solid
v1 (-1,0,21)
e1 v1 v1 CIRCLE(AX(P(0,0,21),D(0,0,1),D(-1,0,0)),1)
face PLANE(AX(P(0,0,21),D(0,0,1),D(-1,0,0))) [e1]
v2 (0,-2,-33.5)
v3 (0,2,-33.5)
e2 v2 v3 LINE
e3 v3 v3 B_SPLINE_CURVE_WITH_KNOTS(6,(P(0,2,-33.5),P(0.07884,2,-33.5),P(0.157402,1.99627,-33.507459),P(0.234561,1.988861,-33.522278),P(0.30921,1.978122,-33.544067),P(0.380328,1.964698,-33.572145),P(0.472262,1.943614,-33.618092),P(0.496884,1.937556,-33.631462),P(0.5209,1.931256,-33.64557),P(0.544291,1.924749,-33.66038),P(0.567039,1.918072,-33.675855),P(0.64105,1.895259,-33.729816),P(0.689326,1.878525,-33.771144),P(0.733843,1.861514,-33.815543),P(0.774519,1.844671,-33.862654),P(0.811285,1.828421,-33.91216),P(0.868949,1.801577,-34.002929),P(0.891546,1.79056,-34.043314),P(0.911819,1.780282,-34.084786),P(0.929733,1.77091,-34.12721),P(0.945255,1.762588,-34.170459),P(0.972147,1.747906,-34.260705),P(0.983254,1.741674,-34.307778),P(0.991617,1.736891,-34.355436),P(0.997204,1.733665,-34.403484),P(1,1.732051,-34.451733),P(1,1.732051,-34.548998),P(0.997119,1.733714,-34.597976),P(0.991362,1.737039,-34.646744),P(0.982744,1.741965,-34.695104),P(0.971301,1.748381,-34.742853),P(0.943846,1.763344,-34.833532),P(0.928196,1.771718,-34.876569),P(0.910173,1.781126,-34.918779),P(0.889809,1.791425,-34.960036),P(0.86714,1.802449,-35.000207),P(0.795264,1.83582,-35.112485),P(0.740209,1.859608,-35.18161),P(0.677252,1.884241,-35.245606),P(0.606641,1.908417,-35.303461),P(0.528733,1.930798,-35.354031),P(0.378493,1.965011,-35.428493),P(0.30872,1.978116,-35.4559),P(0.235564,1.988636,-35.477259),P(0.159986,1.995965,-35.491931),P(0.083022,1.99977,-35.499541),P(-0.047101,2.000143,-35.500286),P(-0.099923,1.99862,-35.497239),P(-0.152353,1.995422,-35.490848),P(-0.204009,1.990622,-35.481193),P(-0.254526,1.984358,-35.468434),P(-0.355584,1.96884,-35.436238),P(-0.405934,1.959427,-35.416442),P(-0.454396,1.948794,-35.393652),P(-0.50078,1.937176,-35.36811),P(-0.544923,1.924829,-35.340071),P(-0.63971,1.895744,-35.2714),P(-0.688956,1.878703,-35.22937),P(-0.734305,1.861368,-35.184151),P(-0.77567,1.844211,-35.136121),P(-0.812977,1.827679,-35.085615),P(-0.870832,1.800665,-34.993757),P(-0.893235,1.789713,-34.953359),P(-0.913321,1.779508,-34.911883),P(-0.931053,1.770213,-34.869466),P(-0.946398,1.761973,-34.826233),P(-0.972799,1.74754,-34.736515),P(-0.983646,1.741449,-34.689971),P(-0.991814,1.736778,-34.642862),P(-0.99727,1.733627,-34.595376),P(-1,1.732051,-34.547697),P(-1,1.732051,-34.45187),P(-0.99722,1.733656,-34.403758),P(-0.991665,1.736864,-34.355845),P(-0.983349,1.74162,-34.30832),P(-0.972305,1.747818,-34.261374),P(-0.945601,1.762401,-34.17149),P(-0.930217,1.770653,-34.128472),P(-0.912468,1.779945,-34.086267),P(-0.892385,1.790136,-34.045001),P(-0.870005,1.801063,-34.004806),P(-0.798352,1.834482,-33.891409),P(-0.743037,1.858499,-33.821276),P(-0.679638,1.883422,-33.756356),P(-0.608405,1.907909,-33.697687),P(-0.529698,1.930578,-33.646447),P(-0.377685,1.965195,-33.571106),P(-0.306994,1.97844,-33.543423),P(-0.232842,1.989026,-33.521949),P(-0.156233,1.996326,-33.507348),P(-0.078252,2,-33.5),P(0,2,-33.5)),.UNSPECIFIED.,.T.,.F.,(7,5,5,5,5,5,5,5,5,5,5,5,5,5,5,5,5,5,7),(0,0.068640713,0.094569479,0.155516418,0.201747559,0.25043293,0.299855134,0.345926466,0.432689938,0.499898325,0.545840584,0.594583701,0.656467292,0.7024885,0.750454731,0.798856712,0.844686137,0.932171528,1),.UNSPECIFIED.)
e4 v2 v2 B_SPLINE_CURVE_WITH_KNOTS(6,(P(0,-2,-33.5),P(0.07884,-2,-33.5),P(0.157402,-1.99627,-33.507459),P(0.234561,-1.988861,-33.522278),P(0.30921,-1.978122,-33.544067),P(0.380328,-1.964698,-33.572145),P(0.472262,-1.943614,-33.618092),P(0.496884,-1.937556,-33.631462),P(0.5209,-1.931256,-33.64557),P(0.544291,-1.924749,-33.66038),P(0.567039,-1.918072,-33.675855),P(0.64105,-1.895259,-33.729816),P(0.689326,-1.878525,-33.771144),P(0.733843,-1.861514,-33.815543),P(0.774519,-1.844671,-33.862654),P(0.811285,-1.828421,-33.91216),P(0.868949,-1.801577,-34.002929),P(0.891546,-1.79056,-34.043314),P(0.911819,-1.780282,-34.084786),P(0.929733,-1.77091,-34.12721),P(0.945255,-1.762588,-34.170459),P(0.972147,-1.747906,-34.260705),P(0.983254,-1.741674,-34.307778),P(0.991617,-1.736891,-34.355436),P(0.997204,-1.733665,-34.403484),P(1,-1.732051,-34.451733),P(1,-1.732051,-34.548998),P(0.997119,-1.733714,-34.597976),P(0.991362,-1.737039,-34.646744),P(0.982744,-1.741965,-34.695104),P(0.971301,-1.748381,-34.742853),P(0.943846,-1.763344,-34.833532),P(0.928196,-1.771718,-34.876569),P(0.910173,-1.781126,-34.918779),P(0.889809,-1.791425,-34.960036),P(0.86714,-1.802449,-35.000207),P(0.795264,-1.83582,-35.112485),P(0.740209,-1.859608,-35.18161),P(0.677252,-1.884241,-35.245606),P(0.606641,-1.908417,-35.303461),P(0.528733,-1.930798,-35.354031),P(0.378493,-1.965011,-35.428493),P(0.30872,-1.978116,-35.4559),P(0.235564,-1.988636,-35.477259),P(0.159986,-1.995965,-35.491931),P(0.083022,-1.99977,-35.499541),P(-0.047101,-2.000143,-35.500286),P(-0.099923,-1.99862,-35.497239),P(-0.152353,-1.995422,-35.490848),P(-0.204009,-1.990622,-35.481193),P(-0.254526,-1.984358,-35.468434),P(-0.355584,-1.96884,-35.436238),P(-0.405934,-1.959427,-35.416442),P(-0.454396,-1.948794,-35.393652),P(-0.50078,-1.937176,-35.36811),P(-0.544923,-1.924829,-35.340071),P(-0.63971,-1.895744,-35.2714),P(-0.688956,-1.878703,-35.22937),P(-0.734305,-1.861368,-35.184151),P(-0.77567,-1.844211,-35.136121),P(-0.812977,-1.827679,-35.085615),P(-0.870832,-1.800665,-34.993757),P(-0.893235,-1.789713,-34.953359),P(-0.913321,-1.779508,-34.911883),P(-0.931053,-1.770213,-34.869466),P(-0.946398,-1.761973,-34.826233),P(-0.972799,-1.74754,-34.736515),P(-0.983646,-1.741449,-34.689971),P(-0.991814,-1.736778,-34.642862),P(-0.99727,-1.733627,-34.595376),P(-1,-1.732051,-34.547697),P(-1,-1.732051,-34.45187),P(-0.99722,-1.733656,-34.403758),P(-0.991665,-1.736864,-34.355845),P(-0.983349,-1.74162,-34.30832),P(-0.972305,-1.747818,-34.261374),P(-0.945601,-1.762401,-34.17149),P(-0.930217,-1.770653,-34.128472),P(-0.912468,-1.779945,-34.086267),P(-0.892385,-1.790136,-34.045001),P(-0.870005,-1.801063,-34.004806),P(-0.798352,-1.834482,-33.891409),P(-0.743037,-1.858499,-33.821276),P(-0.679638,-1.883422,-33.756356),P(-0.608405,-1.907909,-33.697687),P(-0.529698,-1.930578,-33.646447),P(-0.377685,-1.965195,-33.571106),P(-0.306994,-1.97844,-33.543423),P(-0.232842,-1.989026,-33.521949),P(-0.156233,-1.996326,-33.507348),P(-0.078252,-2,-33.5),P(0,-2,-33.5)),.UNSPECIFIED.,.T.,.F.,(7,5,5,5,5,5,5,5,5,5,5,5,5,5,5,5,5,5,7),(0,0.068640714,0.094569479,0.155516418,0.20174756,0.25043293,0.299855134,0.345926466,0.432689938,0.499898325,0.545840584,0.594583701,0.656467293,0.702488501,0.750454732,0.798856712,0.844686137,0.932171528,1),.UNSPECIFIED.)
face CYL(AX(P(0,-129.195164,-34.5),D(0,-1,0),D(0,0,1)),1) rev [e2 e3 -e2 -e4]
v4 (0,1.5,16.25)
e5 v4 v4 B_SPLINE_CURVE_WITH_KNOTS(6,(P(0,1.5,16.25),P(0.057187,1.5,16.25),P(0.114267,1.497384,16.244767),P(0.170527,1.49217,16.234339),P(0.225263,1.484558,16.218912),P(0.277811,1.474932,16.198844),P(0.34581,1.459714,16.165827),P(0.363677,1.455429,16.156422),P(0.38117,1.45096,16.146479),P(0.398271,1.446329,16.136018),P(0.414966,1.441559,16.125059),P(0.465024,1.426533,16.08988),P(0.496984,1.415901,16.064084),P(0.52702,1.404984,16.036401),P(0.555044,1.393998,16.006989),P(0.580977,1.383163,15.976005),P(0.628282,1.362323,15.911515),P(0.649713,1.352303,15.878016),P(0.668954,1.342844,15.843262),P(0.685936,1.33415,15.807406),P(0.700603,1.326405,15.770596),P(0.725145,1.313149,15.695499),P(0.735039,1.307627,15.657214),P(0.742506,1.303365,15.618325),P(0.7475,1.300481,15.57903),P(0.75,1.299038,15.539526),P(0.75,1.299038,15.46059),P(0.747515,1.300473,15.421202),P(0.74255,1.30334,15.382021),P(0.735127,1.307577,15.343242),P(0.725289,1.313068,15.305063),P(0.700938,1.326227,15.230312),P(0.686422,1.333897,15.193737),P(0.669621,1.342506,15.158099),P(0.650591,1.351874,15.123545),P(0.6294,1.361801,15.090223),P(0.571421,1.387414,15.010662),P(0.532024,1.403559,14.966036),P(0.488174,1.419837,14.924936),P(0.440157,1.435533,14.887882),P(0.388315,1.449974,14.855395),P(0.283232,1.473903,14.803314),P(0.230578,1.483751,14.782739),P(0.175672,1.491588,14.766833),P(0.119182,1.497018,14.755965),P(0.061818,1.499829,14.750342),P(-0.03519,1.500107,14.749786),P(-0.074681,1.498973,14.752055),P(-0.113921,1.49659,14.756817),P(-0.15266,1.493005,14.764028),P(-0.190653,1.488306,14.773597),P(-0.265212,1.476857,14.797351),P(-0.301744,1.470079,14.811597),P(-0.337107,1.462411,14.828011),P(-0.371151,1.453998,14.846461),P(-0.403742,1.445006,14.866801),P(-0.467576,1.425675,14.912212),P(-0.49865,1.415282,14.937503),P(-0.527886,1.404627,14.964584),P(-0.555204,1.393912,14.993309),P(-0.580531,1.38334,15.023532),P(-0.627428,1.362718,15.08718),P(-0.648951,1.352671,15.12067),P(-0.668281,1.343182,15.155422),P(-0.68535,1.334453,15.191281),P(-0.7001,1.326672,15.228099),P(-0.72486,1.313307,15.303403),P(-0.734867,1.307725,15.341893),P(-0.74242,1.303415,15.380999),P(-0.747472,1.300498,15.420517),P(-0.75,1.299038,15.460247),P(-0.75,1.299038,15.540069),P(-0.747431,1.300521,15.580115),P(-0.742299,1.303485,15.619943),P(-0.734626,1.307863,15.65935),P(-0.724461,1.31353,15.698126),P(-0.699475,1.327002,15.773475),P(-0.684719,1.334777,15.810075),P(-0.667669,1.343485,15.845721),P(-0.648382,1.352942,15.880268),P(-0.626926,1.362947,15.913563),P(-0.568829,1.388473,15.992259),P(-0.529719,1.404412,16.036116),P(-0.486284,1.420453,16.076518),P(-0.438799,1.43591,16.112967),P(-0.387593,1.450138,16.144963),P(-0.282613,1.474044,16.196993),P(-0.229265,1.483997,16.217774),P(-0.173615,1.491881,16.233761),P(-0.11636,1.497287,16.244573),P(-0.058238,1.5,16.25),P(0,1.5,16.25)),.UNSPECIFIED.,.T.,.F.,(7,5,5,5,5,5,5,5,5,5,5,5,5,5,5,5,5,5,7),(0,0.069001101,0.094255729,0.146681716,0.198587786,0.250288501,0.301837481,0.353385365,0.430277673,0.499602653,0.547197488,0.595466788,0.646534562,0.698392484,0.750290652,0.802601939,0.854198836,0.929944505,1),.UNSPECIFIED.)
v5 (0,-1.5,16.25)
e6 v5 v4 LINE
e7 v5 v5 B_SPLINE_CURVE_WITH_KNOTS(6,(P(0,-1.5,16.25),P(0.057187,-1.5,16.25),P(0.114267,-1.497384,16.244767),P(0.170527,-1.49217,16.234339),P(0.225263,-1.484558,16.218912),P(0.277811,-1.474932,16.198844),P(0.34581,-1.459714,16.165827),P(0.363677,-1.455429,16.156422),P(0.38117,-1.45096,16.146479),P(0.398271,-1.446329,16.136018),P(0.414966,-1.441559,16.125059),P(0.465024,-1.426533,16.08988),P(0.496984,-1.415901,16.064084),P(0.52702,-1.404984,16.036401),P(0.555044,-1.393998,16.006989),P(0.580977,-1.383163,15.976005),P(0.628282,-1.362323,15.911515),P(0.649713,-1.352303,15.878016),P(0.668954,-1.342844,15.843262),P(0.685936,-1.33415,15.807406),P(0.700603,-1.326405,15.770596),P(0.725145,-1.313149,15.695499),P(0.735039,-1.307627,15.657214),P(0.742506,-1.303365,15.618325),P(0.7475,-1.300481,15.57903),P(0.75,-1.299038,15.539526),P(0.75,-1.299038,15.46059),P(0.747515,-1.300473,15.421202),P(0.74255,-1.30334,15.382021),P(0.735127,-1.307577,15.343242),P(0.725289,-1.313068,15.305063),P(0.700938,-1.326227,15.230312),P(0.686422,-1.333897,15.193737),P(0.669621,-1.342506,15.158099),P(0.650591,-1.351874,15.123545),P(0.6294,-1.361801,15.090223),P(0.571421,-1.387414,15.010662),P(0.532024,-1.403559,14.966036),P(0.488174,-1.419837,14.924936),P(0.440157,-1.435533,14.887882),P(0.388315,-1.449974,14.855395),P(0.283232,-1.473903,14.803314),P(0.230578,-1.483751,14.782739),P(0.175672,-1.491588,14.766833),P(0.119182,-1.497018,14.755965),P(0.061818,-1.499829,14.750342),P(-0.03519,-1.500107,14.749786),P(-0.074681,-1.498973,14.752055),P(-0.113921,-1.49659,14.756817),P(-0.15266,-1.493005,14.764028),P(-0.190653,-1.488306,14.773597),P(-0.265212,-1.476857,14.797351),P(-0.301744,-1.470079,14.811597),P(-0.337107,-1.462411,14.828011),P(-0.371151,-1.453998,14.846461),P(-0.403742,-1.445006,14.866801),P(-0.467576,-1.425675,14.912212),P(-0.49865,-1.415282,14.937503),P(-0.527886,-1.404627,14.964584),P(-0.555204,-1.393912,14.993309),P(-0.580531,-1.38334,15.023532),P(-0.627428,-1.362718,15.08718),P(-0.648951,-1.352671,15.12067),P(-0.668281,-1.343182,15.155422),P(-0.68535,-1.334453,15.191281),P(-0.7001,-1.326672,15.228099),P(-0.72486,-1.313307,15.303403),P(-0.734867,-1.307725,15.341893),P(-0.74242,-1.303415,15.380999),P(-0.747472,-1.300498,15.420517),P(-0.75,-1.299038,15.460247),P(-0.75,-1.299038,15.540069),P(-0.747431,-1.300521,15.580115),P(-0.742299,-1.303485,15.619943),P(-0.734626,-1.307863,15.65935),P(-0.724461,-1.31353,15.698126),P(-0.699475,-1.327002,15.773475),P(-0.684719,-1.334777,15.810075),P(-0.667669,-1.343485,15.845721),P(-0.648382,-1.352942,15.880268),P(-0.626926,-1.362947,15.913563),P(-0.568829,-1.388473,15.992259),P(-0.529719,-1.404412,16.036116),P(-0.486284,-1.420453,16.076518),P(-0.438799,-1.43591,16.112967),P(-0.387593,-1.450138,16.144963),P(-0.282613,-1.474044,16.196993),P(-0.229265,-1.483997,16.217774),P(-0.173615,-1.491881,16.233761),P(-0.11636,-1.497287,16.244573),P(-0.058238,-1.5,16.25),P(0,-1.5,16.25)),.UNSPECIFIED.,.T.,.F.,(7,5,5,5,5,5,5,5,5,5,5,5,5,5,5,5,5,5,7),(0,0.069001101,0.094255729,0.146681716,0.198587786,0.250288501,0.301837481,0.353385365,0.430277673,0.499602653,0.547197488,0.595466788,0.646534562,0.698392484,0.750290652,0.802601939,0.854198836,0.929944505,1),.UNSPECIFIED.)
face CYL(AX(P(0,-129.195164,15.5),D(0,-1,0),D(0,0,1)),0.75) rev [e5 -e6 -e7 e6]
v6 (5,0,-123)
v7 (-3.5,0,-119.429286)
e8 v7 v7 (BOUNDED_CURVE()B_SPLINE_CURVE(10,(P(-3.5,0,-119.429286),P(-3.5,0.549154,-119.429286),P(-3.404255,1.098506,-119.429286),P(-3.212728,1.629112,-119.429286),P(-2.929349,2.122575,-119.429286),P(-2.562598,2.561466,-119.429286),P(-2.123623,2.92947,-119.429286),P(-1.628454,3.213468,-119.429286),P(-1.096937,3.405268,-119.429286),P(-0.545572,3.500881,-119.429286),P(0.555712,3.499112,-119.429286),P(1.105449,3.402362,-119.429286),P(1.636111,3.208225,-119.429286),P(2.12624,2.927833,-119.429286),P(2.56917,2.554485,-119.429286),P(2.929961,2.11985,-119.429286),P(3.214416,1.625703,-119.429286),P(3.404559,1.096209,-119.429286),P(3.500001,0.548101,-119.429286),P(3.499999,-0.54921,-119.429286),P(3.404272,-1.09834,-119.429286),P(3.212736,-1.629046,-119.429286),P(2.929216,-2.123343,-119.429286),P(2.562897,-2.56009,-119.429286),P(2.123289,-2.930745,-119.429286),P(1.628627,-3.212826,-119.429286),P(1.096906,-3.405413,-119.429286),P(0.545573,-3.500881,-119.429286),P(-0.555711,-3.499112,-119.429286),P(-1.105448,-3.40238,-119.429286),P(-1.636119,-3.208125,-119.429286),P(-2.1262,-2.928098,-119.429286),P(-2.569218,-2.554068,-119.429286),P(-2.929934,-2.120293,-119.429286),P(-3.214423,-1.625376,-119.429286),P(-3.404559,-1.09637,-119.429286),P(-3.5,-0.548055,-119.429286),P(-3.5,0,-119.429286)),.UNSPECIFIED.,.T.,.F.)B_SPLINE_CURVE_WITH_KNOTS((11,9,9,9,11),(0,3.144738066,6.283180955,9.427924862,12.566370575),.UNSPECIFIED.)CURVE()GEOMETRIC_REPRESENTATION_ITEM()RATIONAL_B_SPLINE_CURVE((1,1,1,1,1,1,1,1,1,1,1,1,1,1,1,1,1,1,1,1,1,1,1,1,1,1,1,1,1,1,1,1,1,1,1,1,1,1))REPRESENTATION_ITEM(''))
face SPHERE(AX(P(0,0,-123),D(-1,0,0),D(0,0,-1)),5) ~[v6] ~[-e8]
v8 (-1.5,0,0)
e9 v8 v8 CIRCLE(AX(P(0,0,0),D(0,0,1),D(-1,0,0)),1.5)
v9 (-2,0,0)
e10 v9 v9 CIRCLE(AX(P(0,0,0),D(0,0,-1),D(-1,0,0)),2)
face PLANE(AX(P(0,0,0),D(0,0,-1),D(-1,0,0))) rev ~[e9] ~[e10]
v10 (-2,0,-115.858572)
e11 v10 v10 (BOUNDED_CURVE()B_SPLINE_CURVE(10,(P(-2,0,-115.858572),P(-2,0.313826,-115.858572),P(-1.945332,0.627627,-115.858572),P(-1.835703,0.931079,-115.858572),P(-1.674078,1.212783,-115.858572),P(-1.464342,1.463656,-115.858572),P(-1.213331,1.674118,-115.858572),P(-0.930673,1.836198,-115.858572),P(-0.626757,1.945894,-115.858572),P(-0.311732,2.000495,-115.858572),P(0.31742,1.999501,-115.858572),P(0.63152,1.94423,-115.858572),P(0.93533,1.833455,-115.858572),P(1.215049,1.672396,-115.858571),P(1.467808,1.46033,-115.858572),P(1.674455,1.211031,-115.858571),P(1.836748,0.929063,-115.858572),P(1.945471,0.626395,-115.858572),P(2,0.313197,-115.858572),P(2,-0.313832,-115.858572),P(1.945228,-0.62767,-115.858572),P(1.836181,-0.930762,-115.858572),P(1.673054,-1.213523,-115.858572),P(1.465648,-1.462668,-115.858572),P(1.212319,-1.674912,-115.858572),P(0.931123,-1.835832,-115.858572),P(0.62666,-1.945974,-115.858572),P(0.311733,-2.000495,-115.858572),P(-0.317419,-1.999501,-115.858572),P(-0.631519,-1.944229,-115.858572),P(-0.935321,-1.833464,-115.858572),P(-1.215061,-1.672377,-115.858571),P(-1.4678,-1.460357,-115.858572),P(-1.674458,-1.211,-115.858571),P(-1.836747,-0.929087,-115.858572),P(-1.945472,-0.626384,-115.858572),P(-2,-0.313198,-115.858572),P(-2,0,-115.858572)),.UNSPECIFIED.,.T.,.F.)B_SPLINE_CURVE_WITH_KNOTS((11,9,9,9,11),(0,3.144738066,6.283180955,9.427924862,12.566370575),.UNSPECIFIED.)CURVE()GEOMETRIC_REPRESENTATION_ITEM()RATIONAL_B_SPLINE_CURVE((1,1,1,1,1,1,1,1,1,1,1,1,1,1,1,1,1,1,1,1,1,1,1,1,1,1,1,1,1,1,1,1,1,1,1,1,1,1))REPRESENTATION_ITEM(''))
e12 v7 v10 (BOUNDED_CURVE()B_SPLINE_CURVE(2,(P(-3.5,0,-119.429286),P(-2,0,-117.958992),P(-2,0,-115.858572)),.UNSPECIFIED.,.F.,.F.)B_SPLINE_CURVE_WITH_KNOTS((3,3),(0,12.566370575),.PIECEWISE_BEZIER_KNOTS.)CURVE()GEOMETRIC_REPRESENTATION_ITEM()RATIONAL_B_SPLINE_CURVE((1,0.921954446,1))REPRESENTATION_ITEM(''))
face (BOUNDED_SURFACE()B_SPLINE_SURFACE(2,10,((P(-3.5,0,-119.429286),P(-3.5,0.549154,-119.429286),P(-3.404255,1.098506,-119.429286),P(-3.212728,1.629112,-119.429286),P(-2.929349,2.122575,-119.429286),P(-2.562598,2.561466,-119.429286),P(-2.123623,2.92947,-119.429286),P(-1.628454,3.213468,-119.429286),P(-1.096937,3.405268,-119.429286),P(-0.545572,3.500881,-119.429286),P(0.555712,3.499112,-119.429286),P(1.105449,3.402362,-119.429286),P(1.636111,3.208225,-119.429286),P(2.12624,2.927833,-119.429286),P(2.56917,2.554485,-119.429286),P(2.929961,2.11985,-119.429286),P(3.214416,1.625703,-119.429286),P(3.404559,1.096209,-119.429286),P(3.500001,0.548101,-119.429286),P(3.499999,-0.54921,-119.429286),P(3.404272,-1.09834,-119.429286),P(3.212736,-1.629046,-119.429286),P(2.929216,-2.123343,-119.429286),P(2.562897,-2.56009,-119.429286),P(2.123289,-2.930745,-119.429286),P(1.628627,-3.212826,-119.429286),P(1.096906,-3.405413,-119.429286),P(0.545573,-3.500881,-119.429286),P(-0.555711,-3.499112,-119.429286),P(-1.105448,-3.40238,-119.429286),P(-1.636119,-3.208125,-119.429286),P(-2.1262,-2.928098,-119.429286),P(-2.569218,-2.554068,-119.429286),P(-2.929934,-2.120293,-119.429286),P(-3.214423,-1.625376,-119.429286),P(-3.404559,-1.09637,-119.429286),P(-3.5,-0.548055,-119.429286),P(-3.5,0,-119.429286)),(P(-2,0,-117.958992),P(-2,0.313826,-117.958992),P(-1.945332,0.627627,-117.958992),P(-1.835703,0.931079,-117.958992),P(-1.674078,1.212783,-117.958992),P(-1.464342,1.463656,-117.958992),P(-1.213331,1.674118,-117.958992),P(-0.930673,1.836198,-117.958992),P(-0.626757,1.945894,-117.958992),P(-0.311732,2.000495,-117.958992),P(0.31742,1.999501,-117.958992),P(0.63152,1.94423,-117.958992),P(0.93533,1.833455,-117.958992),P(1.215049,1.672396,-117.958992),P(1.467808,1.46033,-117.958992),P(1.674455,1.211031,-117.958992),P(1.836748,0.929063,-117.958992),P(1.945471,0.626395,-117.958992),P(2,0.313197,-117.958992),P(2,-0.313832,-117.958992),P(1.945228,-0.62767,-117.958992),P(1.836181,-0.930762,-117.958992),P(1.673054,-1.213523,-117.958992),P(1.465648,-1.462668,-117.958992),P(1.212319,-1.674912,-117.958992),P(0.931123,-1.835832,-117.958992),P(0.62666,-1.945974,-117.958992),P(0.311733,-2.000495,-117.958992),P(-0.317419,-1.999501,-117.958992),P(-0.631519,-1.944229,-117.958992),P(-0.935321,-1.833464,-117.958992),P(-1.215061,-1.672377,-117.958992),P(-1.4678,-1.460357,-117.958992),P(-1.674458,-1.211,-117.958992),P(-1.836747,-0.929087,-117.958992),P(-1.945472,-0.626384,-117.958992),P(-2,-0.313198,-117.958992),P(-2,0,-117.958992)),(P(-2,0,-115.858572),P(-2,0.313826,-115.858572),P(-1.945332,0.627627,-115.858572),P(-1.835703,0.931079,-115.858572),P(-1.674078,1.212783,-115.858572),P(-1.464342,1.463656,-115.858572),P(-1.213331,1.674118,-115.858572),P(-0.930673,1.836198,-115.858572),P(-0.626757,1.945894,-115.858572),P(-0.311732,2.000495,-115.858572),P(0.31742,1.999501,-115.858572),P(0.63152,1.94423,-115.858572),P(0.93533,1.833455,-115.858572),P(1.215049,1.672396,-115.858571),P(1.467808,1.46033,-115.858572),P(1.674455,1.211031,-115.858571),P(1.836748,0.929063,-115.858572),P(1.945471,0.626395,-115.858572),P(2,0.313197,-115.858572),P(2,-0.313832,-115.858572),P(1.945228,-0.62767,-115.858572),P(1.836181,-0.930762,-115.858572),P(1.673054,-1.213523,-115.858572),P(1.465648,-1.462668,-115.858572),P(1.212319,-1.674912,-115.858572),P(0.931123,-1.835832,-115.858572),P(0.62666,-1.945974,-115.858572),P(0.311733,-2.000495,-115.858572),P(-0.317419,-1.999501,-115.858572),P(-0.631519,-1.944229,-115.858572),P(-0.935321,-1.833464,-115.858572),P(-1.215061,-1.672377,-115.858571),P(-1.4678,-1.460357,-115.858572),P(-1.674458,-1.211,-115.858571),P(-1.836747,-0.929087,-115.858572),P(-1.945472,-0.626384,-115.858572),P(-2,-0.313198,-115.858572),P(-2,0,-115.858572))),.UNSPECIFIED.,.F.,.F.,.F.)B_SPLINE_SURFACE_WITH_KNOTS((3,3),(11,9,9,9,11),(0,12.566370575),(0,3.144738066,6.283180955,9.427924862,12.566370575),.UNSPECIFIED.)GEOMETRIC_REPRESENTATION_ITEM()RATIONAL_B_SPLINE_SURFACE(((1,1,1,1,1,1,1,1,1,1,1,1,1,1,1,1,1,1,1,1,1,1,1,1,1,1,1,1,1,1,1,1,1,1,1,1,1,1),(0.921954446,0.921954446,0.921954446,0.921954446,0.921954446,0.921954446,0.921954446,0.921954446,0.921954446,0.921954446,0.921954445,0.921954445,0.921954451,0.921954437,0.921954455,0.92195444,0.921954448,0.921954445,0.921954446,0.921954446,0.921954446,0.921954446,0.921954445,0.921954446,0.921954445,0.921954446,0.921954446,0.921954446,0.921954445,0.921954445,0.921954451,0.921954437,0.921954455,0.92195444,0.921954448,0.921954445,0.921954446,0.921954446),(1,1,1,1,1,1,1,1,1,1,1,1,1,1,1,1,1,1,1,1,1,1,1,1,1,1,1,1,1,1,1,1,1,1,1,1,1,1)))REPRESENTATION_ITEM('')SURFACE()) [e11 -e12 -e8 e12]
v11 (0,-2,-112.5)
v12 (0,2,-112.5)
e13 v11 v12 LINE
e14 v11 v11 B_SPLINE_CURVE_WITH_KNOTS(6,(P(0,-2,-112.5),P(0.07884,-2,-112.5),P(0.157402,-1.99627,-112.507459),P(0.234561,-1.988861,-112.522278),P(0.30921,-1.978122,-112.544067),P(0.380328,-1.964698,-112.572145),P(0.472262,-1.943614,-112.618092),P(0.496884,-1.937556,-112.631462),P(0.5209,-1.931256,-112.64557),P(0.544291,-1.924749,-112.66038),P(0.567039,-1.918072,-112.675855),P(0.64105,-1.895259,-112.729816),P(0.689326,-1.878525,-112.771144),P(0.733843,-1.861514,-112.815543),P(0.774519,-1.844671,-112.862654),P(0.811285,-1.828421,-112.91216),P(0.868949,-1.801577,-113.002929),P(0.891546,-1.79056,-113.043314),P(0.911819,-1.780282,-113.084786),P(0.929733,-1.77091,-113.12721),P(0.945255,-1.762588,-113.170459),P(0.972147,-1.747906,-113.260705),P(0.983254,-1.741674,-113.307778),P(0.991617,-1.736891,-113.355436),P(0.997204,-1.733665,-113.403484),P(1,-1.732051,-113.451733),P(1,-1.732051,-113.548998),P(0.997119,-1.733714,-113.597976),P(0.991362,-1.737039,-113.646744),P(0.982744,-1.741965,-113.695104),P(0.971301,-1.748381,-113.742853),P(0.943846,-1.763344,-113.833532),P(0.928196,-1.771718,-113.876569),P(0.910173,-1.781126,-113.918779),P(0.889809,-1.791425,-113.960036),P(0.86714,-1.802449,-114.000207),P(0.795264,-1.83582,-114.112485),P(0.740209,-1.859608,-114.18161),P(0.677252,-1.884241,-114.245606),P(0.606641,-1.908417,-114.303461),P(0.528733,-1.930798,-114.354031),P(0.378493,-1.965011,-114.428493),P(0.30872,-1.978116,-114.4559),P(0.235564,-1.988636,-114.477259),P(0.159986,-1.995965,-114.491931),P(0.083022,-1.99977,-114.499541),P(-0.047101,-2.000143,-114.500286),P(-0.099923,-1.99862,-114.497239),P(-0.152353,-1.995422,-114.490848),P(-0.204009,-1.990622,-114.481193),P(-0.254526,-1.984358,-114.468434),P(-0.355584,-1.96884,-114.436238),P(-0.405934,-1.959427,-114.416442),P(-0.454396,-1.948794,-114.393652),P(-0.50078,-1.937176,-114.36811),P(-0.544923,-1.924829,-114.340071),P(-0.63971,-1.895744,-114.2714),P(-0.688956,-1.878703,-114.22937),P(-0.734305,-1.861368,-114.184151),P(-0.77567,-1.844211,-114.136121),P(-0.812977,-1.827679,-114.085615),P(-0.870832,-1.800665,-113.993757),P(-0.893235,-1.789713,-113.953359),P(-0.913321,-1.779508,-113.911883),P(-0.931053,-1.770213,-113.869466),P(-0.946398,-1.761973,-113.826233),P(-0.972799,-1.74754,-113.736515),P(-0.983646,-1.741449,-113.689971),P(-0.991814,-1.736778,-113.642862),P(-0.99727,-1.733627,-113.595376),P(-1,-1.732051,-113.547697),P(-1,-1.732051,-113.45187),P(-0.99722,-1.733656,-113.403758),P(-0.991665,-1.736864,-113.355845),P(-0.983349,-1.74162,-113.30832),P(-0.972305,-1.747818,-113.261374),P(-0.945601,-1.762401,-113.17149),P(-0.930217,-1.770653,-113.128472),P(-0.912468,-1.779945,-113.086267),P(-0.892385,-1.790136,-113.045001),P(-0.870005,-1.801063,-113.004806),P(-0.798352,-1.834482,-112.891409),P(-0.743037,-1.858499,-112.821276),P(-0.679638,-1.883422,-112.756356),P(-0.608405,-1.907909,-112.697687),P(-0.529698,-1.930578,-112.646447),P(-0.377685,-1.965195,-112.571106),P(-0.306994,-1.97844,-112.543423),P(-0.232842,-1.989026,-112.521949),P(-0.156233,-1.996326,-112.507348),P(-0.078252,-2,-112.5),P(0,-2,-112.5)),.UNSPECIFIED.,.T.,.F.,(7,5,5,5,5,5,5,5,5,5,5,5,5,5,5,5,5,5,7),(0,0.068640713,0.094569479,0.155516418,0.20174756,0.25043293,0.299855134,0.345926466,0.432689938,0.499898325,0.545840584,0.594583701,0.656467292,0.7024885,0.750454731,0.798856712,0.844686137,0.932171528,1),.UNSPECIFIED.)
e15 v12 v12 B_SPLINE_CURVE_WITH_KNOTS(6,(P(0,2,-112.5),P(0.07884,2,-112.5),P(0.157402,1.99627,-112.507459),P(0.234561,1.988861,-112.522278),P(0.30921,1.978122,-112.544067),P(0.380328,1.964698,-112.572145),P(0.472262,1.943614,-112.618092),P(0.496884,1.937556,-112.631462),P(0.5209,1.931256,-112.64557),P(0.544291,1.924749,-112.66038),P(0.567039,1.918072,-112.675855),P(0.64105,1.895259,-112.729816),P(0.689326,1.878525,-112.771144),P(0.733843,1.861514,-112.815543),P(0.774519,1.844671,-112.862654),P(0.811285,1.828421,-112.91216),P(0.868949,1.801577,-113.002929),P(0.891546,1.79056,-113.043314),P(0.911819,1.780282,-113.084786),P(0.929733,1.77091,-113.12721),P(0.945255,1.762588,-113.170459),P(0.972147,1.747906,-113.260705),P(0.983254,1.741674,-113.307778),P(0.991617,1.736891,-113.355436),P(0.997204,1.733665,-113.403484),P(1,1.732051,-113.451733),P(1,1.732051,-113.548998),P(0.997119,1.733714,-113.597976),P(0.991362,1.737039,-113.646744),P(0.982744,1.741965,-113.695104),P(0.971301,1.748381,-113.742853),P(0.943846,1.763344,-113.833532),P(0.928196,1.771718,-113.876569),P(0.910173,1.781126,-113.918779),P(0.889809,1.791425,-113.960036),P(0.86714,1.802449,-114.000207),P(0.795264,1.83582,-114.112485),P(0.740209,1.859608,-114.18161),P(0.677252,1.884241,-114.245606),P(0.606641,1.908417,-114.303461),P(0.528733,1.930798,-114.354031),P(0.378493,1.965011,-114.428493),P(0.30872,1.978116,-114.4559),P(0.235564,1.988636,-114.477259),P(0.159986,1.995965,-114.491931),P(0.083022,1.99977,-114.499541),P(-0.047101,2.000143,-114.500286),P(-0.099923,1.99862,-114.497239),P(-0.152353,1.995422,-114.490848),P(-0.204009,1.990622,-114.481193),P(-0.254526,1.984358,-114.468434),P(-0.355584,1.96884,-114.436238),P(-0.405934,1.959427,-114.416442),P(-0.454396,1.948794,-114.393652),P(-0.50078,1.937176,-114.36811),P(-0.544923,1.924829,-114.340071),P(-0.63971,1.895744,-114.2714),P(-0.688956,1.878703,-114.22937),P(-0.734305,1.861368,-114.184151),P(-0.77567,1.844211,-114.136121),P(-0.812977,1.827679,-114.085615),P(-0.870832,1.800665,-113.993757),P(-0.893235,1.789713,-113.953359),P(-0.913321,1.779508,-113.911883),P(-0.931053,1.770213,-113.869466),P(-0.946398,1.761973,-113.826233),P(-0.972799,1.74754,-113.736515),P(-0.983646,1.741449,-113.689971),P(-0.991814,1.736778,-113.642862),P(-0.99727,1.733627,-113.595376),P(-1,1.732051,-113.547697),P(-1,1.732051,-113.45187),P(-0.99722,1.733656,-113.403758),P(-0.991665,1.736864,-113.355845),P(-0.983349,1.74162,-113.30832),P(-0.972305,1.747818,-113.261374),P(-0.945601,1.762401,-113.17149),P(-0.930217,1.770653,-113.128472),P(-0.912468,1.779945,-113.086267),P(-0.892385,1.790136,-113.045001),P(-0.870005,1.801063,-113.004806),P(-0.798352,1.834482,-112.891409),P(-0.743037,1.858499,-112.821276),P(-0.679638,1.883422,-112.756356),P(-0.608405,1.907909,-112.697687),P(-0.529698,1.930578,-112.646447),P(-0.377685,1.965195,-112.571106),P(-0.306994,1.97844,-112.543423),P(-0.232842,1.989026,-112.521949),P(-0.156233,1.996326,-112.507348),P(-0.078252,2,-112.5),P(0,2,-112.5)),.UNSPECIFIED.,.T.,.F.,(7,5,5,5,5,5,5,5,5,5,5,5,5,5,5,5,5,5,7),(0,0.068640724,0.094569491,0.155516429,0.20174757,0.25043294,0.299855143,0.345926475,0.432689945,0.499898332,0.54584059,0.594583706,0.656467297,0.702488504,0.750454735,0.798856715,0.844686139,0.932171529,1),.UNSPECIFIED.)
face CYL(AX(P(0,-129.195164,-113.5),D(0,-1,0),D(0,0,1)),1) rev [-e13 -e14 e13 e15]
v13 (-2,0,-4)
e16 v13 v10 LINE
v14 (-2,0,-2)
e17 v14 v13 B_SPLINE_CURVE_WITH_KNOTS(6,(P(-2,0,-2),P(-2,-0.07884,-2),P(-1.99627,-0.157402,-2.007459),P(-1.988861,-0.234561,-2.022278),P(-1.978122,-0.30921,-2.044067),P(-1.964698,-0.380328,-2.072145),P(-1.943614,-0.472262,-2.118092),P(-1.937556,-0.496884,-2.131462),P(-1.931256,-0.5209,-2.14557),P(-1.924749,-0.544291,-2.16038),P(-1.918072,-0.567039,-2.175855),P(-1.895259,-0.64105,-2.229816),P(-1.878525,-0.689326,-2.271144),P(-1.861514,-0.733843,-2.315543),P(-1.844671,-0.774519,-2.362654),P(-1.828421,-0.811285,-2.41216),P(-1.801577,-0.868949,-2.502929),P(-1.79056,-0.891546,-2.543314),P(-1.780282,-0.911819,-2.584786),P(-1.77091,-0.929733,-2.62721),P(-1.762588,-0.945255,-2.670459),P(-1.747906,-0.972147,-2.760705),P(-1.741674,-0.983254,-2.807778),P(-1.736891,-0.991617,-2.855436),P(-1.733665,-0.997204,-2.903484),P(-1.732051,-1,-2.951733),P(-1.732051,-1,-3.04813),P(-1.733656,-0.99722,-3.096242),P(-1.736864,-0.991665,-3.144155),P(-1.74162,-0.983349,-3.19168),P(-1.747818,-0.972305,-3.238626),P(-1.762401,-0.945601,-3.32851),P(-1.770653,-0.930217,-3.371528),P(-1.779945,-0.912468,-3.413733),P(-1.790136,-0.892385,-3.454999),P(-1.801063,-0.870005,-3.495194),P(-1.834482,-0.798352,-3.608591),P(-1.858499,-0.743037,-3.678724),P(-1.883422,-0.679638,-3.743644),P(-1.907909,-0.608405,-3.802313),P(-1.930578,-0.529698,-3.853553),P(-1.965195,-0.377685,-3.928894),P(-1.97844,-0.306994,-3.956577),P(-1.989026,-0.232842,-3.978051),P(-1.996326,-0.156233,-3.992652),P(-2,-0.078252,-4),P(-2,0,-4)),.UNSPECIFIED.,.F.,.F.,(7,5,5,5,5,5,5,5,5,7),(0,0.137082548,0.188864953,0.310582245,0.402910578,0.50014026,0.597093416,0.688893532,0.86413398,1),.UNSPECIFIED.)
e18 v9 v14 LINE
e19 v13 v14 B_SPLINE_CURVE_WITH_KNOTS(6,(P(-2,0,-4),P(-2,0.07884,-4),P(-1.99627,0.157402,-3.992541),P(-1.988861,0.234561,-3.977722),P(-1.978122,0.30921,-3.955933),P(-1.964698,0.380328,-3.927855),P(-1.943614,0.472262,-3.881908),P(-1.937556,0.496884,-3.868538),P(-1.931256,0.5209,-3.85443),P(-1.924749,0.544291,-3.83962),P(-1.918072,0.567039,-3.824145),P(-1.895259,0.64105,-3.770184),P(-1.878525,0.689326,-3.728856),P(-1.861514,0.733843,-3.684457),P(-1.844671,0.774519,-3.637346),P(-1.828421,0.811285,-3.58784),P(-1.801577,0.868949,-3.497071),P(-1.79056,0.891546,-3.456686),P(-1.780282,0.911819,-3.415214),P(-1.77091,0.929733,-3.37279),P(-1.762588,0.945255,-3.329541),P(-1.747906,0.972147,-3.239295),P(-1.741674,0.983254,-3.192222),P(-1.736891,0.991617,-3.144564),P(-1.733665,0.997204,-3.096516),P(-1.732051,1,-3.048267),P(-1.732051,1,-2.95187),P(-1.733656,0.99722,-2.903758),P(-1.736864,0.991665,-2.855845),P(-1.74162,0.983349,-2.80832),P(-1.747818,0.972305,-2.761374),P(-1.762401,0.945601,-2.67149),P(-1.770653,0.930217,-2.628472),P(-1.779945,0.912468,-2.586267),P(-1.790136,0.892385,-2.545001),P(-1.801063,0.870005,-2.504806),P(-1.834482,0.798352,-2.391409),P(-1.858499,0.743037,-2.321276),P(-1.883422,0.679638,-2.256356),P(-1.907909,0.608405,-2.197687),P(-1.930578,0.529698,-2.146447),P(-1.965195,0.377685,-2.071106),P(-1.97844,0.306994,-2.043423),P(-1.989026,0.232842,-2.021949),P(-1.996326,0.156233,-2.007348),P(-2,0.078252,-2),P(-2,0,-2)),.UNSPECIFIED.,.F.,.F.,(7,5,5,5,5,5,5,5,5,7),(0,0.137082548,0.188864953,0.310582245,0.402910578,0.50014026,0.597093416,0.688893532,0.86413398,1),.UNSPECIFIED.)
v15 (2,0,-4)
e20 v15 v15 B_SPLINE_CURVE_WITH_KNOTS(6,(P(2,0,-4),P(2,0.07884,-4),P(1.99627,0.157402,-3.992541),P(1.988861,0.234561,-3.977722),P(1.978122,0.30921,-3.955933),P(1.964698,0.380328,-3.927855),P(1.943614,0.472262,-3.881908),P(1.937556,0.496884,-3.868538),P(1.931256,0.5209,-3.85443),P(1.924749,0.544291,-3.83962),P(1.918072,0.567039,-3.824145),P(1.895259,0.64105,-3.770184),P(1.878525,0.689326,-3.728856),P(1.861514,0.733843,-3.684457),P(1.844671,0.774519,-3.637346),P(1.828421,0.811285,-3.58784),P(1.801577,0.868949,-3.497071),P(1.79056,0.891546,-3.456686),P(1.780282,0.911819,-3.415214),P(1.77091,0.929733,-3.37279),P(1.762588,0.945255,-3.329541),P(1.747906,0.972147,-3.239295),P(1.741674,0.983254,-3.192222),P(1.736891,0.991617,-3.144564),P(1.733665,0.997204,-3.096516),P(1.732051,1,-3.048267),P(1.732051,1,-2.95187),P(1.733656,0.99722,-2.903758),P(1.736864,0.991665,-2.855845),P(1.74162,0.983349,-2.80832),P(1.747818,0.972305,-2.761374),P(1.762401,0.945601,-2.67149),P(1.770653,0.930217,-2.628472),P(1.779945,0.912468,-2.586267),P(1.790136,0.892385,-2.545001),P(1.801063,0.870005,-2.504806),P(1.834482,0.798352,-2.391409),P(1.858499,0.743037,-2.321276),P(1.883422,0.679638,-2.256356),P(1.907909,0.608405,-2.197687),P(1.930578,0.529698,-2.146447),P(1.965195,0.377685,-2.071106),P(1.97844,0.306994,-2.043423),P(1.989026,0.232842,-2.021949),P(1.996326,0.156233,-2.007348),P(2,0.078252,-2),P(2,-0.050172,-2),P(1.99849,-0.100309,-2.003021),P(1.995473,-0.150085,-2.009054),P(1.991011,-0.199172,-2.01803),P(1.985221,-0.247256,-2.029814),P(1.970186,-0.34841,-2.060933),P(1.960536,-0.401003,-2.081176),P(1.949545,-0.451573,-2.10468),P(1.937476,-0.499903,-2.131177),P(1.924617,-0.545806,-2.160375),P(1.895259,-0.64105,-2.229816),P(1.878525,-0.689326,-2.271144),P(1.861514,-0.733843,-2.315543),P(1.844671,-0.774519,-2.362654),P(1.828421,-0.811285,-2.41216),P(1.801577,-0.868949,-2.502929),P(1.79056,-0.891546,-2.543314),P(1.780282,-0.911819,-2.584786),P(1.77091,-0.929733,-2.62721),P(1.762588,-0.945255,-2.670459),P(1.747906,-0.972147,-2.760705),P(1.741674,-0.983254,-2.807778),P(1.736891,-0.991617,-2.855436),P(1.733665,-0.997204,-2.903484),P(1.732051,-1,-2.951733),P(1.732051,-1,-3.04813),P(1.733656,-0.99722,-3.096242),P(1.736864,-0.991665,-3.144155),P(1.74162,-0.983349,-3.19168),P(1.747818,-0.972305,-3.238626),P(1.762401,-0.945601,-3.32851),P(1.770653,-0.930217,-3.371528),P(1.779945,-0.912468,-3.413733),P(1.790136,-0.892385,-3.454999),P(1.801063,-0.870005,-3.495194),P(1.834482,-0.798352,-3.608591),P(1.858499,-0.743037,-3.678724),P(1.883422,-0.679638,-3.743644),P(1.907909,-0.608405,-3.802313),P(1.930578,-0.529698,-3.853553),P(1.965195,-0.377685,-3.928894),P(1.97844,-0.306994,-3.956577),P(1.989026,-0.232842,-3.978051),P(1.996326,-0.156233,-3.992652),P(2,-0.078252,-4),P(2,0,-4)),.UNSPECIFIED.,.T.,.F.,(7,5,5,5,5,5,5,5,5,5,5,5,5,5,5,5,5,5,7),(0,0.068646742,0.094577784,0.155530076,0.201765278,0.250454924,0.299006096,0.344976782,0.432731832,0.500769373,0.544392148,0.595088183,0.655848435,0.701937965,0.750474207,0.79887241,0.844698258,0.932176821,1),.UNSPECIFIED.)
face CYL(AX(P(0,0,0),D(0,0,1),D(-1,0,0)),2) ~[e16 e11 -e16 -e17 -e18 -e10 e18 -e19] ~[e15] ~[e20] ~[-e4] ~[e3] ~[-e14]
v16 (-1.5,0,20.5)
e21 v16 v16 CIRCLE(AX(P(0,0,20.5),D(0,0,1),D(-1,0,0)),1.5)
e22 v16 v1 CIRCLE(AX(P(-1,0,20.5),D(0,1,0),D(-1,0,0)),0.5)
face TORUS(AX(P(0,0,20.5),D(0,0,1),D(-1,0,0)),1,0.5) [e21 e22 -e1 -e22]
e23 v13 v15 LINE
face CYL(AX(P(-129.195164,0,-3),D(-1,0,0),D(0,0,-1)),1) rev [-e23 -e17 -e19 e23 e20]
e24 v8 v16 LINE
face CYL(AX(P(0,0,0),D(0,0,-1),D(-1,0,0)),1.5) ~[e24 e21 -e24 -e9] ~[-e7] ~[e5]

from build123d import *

# Parameters (mm, degrees)
SKETCH1_R               = 1.5
BOSS_EXTRUDE1_DEPTH     = 21
SKETCH2_R               = 2
BOSS_EXTRUDE2_DEPTH     = 123
FILLET1_R               = 5
FILLET2_R               = 0.5
CUT_EXTRUDE1_DEPTH      = 129.195163715
CUT_EXTRUDE1_DEPTH_BACK = 129.195163715
SKETCH4_R               = 0.75
SKETCH4_R_2             = 1
CUT_EXTRUDE2_DEPTH      = 129.195163715
CUT_EXTRUDE2_DEPTH_BACK = 129.195163715
SKETCH5_R               = 1


with BuildPart() as part:
    # Sketch1 → Boss-Extrude1 (new body)
    with BuildSketch(Plane.XY):
        with Locations(Location((0, 0, 0), (0, 0, 180))):
            Circle(SKETCH1_R)
    extrude(amount=BOSS_EXTRUDE1_DEPTH)

    # Sketch2 → Boss-Extrude2 (add)
    with BuildSketch(Plane(origin=(0, 0, 0), x_dir=(-1, 0, 0), z_dir=(0, 0, -1))):
        Circle(SKETCH2_R)
    extrude(amount=BOSS_EXTRUDE2_DEPTH)

    # Sketch3 → Revolve1 (revolve)
    with BuildSketch(Plane(origin=(0, 0, 0), x_dir=(1, 0, 0), z_dir=(0, 1, 0))):
        with BuildLine():
            Line((-5, 123), (5, 123))
            ThreePointArc((5, 123), (0, 128), (-5, 123))
        make_face()
    revolve(axis=Axis((-5, 0, -123), (1, 0, 0)))

    # Fillet1
    fillet1_edges = [part.edges().sort_by_distance(p)[0] for p in [
        (2, 0, -118.417424305),
    ]]
    fillet(fillet1_edges, radius=FILLET1_R)

    # Fillet2
    fillet2_edges = [part.edges().sort_by_distance(p)[0] for p in [
        (1.5, 0, 21),
    ]]
    fillet(fillet2_edges, radius=FILLET2_R)

    # Sketch4 → Cut-Extrude1 (cut, two sides: drawn at the far end of the back side and taken through both)
    with BuildSketch(Plane(origin=(0, 0, 0), x_dir=(1, 0, 0), z_dir=(0, 1, 0)).offset(-CUT_EXTRUDE1_DEPTH_BACK)):
        with Locations(Location((0, -15.5, 0), (0, 0, 270))):
            Circle(SKETCH4_R)
        with Locations(Location((0, 34.5, 0), (0, 0, 270))):
            Circle(SKETCH4_R_2)
        with Locations(Location((0, 113.5, 0), (0, 0, 270))):
            Circle(SKETCH4_R_2)
    extrude(amount=CUT_EXTRUDE1_DEPTH + CUT_EXTRUDE1_DEPTH_BACK, mode=Mode.SUBTRACT)

    # Sketch5 → Cut-Extrude2 (cut, two sides: drawn at the far end of the back side and taken through both)
    with BuildSketch(Plane(origin=(0, 0, 0), x_dir=(0, 0, -1), z_dir=(1, 0, 0)).offset(-CUT_EXTRUDE2_DEPTH_BACK)):
        with Locations((3, 0)):
            Circle(SKETCH5_R)
    extrude(amount=CUT_EXTRUDE2_DEPTH + CUT_EXTRUDE2_DEPTH_BACK, mode=Mode.SUBTRACT)


solid = part.part
